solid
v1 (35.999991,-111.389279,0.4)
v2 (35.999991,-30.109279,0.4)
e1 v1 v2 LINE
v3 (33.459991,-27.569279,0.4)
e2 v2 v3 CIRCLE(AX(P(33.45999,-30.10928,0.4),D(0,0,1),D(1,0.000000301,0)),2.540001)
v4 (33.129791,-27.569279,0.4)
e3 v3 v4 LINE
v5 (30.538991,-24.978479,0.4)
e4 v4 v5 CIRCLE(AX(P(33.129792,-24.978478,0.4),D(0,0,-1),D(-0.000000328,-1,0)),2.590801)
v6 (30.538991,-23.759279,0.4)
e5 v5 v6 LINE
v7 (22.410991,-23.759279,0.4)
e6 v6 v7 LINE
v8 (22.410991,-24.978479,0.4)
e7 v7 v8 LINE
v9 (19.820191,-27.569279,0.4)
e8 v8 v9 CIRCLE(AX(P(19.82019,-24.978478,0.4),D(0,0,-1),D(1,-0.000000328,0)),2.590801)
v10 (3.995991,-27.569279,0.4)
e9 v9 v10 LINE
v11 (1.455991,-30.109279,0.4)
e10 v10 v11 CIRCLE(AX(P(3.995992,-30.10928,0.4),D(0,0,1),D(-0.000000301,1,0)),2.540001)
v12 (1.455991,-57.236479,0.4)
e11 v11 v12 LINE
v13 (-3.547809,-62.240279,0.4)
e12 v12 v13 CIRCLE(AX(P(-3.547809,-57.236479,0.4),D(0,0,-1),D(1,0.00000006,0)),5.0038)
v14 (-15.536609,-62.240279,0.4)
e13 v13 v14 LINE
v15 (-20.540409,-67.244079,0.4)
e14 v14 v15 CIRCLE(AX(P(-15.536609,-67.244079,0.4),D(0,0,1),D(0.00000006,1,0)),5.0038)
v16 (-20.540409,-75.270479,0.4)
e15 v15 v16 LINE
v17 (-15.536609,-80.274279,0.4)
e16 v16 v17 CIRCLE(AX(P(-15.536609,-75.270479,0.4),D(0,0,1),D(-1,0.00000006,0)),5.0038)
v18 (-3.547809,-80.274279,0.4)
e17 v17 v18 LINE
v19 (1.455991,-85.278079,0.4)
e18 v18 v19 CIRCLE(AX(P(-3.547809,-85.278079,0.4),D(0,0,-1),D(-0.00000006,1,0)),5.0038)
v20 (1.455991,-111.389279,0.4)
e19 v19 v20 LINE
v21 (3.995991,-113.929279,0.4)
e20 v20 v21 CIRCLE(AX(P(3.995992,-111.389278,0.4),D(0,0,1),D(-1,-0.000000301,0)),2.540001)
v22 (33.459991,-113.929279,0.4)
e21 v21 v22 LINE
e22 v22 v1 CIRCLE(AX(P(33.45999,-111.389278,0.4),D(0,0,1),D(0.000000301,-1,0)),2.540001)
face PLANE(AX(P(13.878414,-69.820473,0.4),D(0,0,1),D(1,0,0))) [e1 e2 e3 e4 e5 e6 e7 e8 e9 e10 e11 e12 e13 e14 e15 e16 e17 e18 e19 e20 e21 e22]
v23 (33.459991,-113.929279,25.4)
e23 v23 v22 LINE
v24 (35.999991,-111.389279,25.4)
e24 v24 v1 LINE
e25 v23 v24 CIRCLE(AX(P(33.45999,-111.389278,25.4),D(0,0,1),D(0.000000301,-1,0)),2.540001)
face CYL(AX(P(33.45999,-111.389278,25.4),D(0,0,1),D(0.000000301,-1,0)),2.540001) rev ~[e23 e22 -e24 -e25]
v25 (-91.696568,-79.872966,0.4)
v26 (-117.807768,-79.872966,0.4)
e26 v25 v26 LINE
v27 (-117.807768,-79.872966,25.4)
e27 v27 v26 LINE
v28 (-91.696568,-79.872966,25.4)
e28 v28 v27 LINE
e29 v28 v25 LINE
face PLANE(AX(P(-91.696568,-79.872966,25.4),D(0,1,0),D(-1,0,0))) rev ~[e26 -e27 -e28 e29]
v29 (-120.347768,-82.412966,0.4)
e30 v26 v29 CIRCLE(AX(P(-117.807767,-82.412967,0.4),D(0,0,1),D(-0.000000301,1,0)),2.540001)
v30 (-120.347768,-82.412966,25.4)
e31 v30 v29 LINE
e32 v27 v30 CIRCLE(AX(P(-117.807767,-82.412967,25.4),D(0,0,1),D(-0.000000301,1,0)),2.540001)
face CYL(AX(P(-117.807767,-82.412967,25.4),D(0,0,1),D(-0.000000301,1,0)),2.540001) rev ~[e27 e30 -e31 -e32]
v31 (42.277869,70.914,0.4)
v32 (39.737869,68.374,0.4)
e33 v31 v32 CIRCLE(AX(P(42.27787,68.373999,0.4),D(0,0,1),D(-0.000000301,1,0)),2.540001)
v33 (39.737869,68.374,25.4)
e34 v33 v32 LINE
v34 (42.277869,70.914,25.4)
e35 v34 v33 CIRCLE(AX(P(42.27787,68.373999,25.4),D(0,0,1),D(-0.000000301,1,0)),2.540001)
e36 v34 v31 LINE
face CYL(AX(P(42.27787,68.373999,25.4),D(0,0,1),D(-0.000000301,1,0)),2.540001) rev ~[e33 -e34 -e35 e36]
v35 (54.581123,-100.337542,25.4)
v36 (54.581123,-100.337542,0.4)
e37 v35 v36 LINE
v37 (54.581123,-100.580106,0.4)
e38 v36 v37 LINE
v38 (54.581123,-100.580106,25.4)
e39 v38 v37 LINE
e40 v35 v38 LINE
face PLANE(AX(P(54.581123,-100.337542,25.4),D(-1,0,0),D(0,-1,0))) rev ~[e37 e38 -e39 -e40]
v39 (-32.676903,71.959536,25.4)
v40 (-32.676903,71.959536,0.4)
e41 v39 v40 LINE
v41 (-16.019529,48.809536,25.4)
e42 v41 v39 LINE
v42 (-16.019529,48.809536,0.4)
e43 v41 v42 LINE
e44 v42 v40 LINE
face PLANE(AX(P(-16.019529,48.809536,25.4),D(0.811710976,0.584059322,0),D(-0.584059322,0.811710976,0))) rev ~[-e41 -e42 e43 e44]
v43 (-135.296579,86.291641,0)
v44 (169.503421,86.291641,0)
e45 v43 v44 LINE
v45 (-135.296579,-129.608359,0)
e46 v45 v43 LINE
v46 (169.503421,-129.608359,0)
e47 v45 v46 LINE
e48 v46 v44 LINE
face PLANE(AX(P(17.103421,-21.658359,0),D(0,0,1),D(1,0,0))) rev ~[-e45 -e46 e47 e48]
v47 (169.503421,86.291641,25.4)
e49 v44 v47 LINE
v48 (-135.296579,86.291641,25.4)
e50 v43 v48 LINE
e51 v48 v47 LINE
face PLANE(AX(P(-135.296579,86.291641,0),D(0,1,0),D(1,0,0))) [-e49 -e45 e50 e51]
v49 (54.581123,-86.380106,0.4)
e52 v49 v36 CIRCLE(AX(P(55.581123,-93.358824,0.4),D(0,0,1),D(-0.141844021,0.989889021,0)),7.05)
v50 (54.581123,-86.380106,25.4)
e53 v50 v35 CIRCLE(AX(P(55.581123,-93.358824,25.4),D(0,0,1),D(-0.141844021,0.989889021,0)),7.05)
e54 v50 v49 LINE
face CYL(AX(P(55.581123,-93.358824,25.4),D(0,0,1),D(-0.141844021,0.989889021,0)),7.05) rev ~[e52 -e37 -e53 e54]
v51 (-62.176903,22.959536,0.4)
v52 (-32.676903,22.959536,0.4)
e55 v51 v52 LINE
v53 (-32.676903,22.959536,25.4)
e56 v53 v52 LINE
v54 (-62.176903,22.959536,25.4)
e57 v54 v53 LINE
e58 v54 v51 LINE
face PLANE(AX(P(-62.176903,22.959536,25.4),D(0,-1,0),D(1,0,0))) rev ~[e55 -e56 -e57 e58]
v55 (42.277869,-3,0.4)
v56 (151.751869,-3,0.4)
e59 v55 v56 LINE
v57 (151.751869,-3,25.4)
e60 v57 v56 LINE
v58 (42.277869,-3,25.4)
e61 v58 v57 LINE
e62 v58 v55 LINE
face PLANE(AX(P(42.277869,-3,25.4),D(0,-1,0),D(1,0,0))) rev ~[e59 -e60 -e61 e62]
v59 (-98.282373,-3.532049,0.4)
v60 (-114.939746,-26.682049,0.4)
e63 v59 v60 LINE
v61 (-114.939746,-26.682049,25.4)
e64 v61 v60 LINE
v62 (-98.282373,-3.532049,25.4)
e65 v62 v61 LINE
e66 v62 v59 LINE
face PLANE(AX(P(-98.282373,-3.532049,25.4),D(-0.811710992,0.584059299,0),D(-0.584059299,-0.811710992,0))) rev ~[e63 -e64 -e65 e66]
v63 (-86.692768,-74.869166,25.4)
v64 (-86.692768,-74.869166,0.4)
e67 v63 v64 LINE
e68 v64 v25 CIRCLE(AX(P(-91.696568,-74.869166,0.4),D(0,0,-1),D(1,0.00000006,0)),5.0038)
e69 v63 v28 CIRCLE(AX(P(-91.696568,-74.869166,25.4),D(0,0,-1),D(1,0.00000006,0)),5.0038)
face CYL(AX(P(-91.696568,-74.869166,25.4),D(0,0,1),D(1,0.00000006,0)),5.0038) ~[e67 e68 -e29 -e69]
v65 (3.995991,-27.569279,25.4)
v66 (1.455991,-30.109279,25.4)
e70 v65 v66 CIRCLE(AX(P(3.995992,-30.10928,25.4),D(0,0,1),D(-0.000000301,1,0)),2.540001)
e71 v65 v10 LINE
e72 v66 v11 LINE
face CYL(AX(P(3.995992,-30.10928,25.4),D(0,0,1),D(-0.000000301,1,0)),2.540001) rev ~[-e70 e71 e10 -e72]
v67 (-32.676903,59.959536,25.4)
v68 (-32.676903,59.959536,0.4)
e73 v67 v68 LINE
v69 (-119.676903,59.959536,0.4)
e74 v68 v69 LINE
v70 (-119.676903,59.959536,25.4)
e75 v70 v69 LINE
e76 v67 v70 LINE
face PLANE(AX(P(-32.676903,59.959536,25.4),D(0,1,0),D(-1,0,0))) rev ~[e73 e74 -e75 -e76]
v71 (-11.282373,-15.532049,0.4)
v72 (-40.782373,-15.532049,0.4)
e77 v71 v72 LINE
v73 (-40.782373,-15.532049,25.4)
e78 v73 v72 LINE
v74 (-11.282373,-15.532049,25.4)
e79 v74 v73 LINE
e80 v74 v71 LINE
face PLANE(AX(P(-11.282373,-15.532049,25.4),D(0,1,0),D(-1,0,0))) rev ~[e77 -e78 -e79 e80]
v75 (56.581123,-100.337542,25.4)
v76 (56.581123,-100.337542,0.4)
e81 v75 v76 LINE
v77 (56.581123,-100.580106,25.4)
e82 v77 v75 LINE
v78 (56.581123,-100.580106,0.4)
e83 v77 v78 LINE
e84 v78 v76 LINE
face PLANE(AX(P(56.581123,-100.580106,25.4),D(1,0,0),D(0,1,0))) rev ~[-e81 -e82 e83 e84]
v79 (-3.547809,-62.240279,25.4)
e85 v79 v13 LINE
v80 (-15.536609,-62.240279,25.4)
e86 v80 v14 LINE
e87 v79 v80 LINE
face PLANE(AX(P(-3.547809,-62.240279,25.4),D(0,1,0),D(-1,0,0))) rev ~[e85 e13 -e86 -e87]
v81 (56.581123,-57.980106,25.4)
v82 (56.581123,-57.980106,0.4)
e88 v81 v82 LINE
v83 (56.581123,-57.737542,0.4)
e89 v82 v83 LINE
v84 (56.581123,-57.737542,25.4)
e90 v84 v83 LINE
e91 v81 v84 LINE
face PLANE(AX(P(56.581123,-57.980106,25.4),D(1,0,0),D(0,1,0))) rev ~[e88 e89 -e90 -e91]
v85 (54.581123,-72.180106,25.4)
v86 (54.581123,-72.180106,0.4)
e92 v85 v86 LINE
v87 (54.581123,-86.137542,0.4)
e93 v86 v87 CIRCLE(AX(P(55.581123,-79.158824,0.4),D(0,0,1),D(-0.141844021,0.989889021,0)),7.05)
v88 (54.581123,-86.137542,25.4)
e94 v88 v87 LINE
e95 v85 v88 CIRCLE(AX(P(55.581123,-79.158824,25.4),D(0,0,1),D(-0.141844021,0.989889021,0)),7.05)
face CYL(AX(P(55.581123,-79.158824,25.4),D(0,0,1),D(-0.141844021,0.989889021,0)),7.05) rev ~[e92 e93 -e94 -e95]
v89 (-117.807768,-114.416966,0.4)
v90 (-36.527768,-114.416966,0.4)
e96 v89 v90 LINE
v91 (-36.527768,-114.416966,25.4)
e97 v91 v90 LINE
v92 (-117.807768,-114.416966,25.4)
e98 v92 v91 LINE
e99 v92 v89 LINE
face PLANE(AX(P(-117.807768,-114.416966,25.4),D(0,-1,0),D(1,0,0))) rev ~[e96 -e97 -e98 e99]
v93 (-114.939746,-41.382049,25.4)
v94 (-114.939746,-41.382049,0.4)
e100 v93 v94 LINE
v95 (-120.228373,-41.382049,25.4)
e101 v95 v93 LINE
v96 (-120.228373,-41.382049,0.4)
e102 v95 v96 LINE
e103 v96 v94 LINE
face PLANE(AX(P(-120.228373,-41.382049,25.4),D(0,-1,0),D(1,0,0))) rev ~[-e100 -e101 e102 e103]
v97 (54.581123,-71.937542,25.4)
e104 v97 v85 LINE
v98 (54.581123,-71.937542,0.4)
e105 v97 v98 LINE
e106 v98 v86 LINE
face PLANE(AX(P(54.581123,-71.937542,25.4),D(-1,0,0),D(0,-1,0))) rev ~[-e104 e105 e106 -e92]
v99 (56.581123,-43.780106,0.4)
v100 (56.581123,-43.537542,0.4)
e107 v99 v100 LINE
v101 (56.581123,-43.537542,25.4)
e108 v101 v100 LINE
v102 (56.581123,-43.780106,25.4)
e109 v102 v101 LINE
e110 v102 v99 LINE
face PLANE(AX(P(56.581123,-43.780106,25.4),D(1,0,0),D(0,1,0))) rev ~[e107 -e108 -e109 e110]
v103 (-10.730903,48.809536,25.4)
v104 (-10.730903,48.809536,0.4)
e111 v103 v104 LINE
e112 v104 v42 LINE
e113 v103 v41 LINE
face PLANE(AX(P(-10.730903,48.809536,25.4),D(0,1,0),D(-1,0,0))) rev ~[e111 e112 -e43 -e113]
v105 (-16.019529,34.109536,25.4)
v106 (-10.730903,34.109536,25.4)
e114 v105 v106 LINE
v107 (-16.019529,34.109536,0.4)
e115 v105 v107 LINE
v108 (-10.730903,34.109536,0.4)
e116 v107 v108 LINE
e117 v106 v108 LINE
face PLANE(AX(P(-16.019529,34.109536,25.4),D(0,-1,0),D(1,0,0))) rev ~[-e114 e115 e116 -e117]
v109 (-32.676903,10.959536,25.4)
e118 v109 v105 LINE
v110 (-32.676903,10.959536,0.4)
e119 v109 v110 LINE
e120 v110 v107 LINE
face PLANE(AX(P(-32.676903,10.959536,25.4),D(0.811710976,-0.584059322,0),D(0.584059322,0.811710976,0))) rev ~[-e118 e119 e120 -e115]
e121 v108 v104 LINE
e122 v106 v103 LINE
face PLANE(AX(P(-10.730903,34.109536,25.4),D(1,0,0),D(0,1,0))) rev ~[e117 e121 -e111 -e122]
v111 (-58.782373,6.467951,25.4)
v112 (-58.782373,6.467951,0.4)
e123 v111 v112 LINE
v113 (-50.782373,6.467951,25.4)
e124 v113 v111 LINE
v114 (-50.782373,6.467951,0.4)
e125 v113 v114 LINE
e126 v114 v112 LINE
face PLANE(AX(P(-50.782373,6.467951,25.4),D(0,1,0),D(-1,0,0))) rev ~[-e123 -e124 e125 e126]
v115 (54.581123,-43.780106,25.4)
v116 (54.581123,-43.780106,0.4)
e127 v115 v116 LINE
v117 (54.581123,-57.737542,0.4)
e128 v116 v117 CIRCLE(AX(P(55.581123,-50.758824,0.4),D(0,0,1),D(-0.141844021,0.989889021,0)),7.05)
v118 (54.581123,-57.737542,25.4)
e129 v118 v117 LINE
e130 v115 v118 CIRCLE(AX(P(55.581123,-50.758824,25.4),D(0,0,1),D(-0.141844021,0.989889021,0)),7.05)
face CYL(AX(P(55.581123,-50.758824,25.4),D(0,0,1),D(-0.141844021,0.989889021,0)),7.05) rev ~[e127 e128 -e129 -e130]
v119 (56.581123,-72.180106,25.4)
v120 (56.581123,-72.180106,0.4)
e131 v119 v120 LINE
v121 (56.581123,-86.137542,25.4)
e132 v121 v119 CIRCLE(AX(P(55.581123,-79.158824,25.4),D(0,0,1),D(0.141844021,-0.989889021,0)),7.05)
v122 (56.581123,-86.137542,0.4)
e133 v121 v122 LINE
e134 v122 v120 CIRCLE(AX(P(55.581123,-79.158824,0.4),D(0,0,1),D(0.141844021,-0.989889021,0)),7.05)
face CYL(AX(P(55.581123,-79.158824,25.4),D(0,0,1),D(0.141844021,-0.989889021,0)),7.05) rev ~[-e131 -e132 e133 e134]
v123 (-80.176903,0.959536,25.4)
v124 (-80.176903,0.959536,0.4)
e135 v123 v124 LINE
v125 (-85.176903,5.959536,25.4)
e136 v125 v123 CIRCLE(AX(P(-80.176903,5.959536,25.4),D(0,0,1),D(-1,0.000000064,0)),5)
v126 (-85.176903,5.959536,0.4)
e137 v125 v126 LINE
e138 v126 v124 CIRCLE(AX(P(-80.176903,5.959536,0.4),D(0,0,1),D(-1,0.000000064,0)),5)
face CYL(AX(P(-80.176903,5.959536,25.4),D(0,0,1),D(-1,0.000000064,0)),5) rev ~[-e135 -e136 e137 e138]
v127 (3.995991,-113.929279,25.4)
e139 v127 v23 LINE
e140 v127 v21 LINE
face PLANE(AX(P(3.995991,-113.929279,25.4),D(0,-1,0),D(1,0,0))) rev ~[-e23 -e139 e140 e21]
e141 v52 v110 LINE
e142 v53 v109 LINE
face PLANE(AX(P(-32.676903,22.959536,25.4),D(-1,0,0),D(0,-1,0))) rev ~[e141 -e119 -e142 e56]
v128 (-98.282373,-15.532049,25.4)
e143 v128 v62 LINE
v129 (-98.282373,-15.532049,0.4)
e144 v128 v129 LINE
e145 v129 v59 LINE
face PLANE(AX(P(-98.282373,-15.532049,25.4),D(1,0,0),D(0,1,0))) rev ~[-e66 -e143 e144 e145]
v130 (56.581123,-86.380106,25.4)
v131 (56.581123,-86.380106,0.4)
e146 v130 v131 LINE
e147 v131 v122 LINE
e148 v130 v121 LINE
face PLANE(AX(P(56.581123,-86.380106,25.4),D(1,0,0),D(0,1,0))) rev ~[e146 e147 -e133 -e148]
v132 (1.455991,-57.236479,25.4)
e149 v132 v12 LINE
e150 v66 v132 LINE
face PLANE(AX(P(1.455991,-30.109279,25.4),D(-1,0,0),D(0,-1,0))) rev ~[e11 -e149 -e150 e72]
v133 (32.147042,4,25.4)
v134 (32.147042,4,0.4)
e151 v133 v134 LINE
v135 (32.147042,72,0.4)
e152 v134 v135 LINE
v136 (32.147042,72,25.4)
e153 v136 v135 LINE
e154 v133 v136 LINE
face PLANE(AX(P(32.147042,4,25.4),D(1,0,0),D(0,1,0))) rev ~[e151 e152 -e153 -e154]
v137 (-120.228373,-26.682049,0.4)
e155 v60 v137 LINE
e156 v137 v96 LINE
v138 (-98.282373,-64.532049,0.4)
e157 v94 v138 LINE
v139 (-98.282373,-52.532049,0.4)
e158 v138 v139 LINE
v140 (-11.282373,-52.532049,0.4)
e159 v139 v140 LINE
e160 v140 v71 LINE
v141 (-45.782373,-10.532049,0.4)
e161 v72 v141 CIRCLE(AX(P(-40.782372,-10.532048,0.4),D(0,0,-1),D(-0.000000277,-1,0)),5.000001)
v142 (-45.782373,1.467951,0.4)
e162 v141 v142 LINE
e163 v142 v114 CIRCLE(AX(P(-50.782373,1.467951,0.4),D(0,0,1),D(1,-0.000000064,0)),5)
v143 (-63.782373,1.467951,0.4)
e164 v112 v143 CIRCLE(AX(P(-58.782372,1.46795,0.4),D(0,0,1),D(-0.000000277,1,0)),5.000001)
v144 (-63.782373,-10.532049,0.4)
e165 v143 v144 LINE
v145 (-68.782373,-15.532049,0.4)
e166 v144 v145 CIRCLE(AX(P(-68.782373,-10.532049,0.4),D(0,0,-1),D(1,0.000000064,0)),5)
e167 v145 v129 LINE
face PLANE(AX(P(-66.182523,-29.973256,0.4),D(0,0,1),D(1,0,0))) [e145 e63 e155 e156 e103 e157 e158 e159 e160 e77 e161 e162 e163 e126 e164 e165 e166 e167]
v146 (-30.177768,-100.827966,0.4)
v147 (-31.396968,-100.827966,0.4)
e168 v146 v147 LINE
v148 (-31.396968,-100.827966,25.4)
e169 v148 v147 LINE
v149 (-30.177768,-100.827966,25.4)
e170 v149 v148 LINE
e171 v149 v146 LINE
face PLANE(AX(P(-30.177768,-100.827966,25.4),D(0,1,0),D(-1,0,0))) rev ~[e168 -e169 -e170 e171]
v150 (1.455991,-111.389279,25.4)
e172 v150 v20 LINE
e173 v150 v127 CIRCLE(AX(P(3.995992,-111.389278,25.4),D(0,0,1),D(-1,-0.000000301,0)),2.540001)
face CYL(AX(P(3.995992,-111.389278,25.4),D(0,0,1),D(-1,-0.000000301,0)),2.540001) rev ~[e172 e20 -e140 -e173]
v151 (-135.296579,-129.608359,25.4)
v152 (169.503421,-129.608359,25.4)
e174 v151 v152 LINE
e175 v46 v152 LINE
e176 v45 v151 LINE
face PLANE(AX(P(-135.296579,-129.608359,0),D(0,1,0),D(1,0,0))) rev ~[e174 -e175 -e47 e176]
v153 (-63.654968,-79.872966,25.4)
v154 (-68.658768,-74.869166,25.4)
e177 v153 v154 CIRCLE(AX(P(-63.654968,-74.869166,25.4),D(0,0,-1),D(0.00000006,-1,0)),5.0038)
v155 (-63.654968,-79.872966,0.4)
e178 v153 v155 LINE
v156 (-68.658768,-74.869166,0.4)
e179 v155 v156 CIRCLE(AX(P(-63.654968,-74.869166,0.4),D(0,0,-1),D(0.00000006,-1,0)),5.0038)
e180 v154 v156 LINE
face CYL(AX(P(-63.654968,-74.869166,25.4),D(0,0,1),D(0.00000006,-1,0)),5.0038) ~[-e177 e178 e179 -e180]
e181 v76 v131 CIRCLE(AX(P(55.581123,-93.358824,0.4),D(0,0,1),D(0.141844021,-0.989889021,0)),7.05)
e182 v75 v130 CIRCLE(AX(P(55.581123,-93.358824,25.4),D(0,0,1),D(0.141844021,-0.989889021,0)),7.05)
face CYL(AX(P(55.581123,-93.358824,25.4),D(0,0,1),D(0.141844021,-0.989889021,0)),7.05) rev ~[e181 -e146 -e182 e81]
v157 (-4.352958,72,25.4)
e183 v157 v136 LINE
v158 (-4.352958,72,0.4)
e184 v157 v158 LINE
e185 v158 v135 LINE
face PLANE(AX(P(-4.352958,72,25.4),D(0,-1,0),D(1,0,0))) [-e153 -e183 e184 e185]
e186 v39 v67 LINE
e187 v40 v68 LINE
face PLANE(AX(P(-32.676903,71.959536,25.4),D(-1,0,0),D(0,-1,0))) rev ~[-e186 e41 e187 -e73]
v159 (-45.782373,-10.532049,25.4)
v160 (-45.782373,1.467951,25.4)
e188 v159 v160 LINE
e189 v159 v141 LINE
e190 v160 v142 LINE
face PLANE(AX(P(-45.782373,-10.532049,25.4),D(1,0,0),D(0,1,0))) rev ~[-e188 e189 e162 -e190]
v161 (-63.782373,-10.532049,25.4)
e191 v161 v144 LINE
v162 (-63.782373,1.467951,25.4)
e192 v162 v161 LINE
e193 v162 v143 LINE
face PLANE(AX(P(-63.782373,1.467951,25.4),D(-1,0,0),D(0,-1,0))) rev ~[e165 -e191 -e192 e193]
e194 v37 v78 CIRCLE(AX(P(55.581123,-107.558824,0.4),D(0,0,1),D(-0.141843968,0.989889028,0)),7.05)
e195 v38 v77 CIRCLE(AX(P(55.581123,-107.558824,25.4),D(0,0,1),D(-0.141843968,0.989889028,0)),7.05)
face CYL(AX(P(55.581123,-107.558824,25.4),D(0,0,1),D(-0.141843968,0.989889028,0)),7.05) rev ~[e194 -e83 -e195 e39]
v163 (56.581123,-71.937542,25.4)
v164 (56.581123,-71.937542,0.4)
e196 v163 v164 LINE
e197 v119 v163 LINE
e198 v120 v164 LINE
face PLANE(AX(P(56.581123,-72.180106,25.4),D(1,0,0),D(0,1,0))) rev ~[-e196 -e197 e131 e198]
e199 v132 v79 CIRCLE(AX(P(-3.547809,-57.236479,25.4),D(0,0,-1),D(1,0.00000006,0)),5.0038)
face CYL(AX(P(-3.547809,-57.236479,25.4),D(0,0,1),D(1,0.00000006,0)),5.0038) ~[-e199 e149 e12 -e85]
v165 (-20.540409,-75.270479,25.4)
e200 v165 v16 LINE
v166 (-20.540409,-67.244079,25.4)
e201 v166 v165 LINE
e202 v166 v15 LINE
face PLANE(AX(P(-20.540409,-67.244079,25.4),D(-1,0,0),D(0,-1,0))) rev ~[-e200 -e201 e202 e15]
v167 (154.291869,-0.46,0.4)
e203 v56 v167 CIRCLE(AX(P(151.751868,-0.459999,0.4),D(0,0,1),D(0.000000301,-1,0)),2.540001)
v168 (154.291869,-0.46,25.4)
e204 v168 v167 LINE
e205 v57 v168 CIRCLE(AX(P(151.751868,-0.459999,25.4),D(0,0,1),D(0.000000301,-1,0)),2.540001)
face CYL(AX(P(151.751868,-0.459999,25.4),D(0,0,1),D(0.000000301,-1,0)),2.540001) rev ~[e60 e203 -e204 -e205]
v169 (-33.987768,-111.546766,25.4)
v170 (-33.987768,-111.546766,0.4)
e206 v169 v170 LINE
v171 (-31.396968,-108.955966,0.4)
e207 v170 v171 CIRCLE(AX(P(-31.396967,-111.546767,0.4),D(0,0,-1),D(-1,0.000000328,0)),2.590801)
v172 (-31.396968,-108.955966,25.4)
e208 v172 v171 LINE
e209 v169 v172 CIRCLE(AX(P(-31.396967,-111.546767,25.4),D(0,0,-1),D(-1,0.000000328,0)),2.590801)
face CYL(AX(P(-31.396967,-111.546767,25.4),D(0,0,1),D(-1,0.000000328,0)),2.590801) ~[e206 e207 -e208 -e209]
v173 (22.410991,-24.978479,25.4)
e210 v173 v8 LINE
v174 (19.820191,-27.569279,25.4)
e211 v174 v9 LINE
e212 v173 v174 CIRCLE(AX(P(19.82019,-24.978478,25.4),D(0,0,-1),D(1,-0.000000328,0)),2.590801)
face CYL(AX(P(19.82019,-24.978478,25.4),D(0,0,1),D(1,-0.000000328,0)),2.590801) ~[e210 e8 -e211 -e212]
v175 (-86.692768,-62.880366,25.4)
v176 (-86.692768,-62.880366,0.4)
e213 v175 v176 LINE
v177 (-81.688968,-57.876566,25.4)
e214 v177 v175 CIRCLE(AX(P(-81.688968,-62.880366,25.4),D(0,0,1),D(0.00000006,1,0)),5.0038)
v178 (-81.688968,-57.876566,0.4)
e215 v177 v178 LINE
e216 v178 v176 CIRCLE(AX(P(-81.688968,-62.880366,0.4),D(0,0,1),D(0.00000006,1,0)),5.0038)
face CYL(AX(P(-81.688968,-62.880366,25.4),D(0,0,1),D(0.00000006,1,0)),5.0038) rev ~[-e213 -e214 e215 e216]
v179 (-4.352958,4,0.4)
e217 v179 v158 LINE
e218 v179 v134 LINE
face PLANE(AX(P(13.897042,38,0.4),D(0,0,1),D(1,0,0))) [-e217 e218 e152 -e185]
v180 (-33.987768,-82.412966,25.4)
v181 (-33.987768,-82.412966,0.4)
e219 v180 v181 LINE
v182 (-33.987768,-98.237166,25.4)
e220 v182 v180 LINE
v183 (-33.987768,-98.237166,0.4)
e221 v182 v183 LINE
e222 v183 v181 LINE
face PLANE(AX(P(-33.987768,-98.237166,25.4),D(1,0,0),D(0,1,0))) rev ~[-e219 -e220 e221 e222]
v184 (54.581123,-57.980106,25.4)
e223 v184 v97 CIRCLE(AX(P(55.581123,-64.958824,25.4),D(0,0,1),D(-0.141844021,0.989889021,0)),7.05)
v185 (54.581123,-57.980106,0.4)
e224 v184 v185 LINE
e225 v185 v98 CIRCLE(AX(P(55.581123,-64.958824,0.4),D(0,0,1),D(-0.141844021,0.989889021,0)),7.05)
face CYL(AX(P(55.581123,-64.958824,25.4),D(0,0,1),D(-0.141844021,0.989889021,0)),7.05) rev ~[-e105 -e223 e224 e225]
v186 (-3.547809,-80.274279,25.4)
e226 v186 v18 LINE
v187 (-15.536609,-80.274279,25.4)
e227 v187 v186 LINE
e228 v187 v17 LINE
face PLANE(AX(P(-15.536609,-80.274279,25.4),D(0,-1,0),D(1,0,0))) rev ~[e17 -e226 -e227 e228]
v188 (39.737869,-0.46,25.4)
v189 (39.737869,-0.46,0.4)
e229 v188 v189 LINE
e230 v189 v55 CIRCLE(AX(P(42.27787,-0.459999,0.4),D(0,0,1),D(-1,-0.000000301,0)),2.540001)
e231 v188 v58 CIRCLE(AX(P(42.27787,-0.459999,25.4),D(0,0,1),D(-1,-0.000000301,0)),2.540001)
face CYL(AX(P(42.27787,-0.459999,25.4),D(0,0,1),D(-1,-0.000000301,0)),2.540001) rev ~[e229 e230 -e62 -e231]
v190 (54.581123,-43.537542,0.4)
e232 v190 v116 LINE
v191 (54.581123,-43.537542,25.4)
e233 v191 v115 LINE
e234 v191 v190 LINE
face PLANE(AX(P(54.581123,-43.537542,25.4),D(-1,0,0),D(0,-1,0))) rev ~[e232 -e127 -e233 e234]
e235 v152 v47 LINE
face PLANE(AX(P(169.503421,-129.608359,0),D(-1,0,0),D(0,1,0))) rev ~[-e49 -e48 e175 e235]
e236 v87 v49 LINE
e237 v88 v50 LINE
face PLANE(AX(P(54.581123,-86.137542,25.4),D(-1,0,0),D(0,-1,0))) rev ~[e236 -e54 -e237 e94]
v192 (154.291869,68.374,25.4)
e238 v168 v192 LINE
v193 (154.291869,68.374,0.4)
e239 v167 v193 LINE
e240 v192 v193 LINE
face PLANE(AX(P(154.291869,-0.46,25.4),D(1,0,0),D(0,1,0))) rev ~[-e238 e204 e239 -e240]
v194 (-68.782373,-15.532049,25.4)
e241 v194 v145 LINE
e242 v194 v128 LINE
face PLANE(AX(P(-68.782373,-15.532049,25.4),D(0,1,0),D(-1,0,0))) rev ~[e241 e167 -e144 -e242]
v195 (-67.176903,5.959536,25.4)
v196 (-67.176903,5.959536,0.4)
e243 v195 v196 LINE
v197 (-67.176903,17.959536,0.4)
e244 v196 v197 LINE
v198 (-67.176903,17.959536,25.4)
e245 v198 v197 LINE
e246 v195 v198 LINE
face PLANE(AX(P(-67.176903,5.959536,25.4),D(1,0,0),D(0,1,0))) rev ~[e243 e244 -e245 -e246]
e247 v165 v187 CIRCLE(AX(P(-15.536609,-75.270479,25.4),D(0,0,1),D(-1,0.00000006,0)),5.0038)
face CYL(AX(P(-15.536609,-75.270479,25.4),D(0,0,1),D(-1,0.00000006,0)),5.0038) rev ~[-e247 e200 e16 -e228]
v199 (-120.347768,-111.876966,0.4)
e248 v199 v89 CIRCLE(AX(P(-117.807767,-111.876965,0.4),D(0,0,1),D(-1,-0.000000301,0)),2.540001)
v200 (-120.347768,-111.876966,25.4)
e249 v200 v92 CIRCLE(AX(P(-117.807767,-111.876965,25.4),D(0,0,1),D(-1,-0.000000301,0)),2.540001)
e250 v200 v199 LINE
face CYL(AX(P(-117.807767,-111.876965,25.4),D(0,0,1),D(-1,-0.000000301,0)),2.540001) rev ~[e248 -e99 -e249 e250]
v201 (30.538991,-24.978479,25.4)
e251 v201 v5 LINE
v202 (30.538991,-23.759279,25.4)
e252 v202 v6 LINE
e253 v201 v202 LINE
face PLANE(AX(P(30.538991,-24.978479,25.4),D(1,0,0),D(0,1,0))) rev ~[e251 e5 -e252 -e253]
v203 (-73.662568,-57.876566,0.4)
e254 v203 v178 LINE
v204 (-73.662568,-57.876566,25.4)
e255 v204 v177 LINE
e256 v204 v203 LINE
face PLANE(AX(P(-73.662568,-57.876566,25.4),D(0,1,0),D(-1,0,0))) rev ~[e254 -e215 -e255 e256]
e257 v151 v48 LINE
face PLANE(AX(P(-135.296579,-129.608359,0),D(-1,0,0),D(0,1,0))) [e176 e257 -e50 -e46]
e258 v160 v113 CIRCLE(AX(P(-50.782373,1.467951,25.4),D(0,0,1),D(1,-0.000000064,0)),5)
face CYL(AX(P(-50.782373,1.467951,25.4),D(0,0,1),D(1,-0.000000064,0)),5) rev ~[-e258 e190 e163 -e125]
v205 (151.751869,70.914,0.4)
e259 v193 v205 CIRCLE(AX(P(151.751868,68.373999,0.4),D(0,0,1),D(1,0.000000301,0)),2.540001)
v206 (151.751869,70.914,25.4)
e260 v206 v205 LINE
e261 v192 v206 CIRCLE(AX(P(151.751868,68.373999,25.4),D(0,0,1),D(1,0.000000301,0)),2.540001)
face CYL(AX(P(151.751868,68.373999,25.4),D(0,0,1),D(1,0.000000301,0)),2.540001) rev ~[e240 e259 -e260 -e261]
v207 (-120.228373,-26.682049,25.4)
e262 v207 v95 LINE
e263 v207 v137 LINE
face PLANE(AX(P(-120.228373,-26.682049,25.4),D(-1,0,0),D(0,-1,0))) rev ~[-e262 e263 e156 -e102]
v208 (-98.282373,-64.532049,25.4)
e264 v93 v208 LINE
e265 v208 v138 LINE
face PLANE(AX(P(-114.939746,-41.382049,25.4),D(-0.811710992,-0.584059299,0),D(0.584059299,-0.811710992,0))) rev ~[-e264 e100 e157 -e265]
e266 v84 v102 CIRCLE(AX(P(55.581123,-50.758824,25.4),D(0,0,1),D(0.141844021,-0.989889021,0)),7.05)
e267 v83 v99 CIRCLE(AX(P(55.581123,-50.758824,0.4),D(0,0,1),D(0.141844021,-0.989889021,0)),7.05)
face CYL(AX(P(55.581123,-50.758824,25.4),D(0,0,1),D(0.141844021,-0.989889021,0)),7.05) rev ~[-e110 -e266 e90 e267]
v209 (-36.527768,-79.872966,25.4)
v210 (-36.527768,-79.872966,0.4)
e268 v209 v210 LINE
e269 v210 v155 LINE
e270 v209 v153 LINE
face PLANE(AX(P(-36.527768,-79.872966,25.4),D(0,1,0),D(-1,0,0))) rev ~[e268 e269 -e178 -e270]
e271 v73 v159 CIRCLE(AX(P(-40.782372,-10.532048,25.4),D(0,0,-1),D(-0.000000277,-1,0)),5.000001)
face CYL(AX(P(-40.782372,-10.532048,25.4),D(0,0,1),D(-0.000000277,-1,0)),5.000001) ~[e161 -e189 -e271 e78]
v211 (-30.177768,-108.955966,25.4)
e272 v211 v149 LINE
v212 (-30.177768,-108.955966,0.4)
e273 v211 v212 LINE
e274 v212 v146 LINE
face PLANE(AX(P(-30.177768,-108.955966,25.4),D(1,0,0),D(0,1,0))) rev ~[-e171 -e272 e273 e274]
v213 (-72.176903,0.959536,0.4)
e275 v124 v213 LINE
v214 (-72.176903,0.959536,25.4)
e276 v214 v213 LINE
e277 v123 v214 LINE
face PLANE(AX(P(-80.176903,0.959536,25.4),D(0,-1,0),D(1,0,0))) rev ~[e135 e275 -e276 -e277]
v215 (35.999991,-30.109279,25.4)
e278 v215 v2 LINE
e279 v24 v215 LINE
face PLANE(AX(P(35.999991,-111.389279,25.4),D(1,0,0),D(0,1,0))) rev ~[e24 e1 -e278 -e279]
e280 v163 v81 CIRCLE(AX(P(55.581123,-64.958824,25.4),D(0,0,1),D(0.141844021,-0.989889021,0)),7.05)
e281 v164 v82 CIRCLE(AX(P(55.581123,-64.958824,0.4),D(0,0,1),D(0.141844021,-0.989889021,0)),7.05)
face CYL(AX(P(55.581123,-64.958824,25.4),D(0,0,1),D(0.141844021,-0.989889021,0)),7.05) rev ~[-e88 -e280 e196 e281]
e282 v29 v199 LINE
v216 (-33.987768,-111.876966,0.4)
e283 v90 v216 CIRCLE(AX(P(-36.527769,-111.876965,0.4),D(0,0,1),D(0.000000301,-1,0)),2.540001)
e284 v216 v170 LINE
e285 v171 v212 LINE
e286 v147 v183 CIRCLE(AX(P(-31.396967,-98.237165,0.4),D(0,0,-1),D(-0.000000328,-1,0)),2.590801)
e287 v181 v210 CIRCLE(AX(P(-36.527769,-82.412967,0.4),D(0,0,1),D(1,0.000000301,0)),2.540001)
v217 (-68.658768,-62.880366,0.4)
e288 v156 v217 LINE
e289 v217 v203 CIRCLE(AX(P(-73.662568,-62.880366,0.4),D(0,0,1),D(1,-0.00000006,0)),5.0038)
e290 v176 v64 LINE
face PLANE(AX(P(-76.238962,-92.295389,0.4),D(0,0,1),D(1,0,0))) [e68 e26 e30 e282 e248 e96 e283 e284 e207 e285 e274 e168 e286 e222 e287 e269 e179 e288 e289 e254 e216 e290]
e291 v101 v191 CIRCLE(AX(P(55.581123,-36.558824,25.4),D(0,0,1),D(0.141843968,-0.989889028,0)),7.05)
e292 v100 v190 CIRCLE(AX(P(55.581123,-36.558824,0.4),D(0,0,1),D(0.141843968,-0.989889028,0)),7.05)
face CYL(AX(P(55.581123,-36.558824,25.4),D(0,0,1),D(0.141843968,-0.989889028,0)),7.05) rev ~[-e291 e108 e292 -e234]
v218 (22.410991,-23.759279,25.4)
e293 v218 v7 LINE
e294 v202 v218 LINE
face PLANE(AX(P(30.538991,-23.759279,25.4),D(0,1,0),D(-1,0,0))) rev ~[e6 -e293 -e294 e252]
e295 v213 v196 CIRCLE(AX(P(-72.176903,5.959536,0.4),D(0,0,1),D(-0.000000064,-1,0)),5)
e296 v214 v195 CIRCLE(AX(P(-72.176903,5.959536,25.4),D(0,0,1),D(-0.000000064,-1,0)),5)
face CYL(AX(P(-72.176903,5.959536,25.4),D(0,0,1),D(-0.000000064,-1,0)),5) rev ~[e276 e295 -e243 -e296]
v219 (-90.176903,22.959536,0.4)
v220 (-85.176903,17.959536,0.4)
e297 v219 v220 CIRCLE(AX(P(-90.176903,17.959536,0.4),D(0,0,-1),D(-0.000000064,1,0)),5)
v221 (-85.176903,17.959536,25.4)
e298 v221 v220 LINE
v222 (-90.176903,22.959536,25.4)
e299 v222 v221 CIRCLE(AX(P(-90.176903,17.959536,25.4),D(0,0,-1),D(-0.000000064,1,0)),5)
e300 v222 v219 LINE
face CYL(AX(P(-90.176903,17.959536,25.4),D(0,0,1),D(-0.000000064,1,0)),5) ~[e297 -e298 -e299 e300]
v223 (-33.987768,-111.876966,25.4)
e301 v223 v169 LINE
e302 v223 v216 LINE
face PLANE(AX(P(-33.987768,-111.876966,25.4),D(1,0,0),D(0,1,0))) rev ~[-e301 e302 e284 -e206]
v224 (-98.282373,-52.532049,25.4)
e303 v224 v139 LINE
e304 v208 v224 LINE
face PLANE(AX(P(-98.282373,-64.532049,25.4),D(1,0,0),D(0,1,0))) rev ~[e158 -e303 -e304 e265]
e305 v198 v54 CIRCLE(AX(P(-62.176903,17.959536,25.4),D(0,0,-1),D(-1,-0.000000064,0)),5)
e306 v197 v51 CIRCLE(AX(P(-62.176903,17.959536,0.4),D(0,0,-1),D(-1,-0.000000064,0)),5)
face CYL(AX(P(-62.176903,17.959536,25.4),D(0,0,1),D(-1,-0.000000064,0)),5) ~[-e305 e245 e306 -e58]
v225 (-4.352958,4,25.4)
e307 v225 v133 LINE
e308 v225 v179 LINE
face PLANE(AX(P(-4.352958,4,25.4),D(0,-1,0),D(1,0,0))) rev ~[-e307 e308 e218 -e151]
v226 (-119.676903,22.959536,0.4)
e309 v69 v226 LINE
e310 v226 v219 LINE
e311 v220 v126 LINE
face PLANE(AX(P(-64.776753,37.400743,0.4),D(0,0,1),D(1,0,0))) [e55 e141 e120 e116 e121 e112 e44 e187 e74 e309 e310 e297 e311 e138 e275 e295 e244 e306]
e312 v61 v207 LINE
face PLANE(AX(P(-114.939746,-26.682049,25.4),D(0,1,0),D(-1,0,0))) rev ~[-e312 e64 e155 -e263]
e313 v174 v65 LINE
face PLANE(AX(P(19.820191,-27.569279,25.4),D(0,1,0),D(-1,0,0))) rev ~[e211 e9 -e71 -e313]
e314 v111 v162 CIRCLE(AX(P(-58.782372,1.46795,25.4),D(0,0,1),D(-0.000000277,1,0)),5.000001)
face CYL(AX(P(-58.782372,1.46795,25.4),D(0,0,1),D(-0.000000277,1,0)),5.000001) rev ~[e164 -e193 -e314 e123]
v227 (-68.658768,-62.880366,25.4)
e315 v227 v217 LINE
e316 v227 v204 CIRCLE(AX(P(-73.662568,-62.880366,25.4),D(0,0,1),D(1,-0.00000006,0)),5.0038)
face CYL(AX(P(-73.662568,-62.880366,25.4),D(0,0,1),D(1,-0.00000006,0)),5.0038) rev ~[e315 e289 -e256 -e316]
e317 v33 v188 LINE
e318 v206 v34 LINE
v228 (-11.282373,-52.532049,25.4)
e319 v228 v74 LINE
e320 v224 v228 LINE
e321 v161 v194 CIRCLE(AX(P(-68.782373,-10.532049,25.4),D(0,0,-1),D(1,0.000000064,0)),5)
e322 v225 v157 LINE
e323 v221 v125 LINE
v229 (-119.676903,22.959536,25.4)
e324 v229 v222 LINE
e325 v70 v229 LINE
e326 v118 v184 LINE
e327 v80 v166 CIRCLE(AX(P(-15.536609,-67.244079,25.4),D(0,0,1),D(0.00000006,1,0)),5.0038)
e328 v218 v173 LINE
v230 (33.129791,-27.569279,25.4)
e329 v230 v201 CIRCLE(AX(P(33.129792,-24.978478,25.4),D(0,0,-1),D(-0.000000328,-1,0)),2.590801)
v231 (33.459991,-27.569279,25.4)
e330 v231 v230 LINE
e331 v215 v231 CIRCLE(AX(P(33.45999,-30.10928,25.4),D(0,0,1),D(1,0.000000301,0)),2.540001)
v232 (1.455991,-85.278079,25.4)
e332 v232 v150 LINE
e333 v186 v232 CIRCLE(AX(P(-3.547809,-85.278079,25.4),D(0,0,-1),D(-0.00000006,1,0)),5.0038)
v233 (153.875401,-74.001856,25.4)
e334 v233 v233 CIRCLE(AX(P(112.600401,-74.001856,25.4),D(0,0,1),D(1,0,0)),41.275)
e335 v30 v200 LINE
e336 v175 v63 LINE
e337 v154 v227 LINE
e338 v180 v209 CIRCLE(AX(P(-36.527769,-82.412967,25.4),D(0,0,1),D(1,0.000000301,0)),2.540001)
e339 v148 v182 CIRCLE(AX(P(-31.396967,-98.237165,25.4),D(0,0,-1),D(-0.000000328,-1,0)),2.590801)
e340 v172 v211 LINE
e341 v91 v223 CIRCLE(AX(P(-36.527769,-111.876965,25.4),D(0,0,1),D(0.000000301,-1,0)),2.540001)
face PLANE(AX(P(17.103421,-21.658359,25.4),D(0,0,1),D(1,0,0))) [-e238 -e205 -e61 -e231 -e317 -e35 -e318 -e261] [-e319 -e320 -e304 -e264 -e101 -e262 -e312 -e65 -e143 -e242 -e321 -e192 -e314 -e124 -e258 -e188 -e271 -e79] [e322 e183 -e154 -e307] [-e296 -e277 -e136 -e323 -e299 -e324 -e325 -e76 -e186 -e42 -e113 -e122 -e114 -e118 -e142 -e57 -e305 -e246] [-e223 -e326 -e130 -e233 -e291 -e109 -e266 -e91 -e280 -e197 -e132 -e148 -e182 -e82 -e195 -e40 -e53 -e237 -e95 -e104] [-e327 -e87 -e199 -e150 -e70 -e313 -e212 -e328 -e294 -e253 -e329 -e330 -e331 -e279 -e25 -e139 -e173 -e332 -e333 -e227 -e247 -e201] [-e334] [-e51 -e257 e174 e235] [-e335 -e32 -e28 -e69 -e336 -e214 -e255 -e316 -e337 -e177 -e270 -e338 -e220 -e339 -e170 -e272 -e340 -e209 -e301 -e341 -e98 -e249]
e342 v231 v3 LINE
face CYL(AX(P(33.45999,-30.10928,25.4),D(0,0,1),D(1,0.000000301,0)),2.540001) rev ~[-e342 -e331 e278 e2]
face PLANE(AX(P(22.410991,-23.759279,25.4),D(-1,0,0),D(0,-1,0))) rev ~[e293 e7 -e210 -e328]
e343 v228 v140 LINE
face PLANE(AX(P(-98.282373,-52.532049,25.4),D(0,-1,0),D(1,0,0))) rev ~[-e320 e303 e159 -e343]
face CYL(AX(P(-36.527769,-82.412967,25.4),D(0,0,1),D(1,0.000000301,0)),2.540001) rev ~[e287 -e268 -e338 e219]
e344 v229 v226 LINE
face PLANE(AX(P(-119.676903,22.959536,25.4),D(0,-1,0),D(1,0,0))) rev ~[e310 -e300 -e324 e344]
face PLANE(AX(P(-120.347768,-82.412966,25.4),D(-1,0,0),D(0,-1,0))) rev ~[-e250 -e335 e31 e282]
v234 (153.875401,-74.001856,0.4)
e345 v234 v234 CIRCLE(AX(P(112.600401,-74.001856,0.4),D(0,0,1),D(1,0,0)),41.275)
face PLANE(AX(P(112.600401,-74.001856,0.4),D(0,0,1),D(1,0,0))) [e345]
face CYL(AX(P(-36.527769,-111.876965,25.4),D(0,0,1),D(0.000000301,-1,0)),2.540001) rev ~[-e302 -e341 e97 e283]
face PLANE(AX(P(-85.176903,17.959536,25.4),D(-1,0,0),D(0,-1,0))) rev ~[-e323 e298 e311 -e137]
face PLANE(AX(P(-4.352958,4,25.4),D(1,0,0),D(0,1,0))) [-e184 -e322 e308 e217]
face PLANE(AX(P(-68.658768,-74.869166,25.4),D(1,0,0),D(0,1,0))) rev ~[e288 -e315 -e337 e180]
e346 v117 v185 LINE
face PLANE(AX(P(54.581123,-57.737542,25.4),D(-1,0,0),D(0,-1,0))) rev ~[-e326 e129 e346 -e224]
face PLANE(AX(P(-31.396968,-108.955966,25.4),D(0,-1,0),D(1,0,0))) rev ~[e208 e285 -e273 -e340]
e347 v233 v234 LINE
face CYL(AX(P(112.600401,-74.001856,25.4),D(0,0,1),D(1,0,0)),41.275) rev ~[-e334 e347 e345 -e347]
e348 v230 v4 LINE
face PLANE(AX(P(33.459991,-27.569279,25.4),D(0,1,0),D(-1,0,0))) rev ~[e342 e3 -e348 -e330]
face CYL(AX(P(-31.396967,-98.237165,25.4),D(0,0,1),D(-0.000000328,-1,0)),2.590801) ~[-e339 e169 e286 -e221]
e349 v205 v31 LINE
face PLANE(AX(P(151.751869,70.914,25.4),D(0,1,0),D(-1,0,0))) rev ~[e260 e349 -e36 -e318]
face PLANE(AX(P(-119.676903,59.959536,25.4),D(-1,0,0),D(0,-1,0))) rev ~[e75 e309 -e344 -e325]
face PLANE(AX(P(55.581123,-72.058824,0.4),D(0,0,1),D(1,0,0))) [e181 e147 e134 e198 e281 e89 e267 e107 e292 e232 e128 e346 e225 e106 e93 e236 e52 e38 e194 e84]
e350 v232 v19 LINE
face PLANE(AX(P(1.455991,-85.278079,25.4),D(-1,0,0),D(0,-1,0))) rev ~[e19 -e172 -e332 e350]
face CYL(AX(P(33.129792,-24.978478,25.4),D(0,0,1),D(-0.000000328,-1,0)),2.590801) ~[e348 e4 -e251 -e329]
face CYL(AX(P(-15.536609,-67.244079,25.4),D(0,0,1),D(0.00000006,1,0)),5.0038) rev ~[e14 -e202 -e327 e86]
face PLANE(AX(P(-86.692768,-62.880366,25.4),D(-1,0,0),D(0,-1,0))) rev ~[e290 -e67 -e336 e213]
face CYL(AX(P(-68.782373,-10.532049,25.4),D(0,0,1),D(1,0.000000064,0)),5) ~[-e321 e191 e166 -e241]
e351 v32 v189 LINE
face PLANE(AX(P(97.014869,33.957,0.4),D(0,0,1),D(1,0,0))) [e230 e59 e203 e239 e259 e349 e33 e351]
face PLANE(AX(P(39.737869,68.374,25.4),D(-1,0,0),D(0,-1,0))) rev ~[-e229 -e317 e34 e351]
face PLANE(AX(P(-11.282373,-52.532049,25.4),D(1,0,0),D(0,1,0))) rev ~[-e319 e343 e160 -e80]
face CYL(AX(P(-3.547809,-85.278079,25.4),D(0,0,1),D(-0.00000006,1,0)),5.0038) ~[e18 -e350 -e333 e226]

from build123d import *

# Parameters (mm, degrees)
F0_W      = 304.8
F0_H      = 215.9
F1_DEPTH  = 25.4
F5_R      = 41.275
F8_W      = 36.5
F8_H      = 68
F10_DEPTH = 25


with BuildPart() as f1:
    # F0 (on Top) → F1 (new body)
    with BuildSketch(Plane.XY):
        with Locations((17.103421, -21.658359)):
            Rectangle(F0_W, F0_H)
    extrude(amount=F1_DEPTH)

    # F0 (on Top) + F2 (on face) + F3 (on face) + F4 (on face) + F5 (on face) + F6 (on face) + F7 (on face) + F8 (on face) + F9 (on face) → F10 (cut)
    with BuildSketch(Plane.XY):
        with Locations((17.103421, -21.658359)):
            Rectangle(F0_W, F0_H)
    with BuildSketch(Plane.XY.offset(25.4)):
        with BuildLine():
            Line((1.455991, -85.278079), (1.455991, -111.389279))
            ThreePointArc((1.455991, -111.389279), (2.19994, -113.18533), (3.995991, -113.929279))
            Line((3.995991, -113.929279), (33.459991, -113.929279))
            ThreePointArc((33.459991, -113.929279), (35.256042, -113.18533), (35.999991, -111.389279))
            Line((35.999991, -111.389279), (35.999991, -30.109279))
            ThreePointArc((35.999991, -30.109279), (35.256042, -28.313228), (33.459991, -27.569279))
            Line((33.459991, -27.569279), (33.129791, -27.569279))
            ThreePointArc((33.129791, -27.569279), (31.297819, -26.810451), (30.538991, -24.978479))
            Line((30.538991, -24.978479), (30.538991, -23.759279))
            Line((30.538991, -23.759279), (22.410991, -23.759279))
            Line((22.410991, -23.759279), (22.410991, -24.978479))
            ThreePointArc((22.410991, -24.978479), (21.652163, -26.810451), (19.820191, -27.569279))
            Line((19.820191, -27.569279), (3.995991, -27.569279))
            ThreePointArc((3.995991, -27.569279), (2.19994, -28.313228), (1.455991, -30.109279))
            Line((1.455991, -30.109279), (1.455991, -57.236479))
            ThreePointArc((1.455991, -57.236479), (-0.009588, -60.7747), (-3.547809, -62.240279))
            Line((-3.547809, -62.240279), (-15.536609, -62.240279))
            ThreePointArc((-15.536609, -62.240279), (-19.07483, -63.705858), (-20.540409, -67.244079))
            Line((-20.540409, -67.244079), (-20.540409, -75.270479))
            ThreePointArc((-20.540409, -75.270479), (-19.07483, -78.8087), (-15.536609, -80.274279))
            Line((-15.536609, -80.274279), (-3.547809, -80.274279))
            ThreePointArc((-3.547809, -80.274279), (-0.009588, -81.739858), (1.455991, -85.278079))
        make_face()
    with BuildSketch(Plane.XY.offset(25.4)):
        with BuildLine():
            Line((-98.282373, -52.532049), (-11.282373, -52.532049))
            Line((-11.282373, -52.532049), (-11.282373, -15.532049))
            Line((-11.282373, -15.532049), (-40.782373, -15.532049))
            ThreePointArc((-40.782373, -15.532049), (-44.317906, -14.067583), (-45.782373, -10.532049))
            Line((-45.782373, -10.532049), (-45.782373, 1.467951))
            ThreePointArc((-45.782373, 1.467951), (-47.246839, 5.003485), (-50.782373, 6.467951))
            Line((-50.782373, 6.467951), (-58.782373, 6.467951))
            ThreePointArc((-58.782373, 6.467951), (-62.317906, 5.003485), (-63.782373, 1.467951))
            Line((-63.782373, 1.467951), (-63.782373, -10.532049))
            ThreePointArc((-63.782373, -10.532049), (-65.246839, -14.067583), (-68.782373, -15.532049))
            Line((-68.782373, -15.532049), (-98.282373, -15.532049))
            Line((-98.282373, -15.532049), (-98.282373, -3.532049))
            Line((-98.282373, -3.532049), (-114.939746, -26.682049))
            Line((-114.939746, -26.682049), (-120.228373, -26.682049))
            Line((-120.228373, -26.682049), (-120.228373, -34.032049))
            Line((-120.228373, -34.032049), (-120.228373, -41.382049))
            Line((-120.228373, -41.382049), (-114.939746, -41.382049))
            Line((-114.939746, -41.382049), (-98.282373, -64.532049))
            Line((-98.282373, -64.532049), (-98.282373, -52.532049))
        make_face()
    with BuildSketch(Plane.XY.offset(25.4)):
        with BuildLine():
            Line((151.751869, 70.914), (42.277869, 70.914))
            ThreePointArc((42.277869, 70.914), (40.481818, 70.170051), (39.737869, 68.374))
            Line((39.737869, 68.374), (39.737869, -0.46))
            ThreePointArc((39.737869, -0.46), (40.481818, -2.256051), (42.277869, -3))
            Line((42.277869, -3), (151.751869, -3))
            ThreePointArc((151.751869, -3), (153.54792, -2.256051), (154.291869, -0.46))
            Line((154.291869, -0.46), (154.291869, 68.374))
            ThreePointArc((154.291869, 68.374), (153.54792, 70.170051), (151.751869, 70.914))
        make_face()
    with BuildSketch(Plane.XY.offset(25.4)):
        with Locations((112.600401, -74.001856)):
            Circle(F5_R)
    with BuildSketch(Plane.XY.offset(25.4)):
        with BuildLine():
            Line((-91.696568, -79.872966), (-117.807768, -79.872966))
            ThreePointArc((-117.807768, -79.872966), (-119.603819, -80.616915), (-120.347768, -82.412966))
            Line((-120.347768, -82.412966), (-120.347768, -111.876966))
            ThreePointArc((-120.347768, -111.876966), (-119.603819, -113.673017), (-117.807768, -114.416966))
            Line((-117.807768, -114.416966), (-36.527768, -114.416966))
            ThreePointArc((-36.527768, -114.416966), (-34.731717, -113.673017), (-33.987768, -111.876966))
            Line((-33.987768, -111.876966), (-33.987768, -111.546766))
            ThreePointArc((-33.987768, -111.546766), (-33.22894, -109.714794), (-31.396968, -108.955966))
            Line((-31.396968, -108.955966), (-30.177768, -108.955966))
            Line((-30.177768, -108.955966), (-30.177768, -100.827966))
            Line((-30.177768, -100.827966), (-31.396968, -100.827966))
            ThreePointArc((-31.396968, -100.827966), (-33.22894, -100.069138), (-33.987768, -98.237166))
            Line((-33.987768, -98.237166), (-33.987768, -82.412966))
            ThreePointArc((-33.987768, -82.412966), (-34.731717, -80.616915), (-36.527768, -79.872966))
            Line((-36.527768, -79.872966), (-63.654968, -79.872966))
            ThreePointArc((-63.654968, -79.872966), (-67.193189, -78.407387), (-68.658768, -74.869166))
            Line((-68.658768, -74.869166), (-68.658768, -62.880366))
            ThreePointArc((-68.658768, -62.880366), (-70.124347, -59.342145), (-73.662568, -57.876566))
            Line((-73.662568, -57.876566), (-81.688968, -57.876566))
            ThreePointArc((-81.688968, -57.876566), (-85.227189, -59.342145), (-86.692768, -62.880366))
            Line((-86.692768, -62.880366), (-86.692768, -74.869166))
            ThreePointArc((-86.692768, -74.869166), (-88.158347, -78.407387), (-91.696568, -79.872966))
        make_face()
    with BuildSketch(Plane.XY.offset(25.4)):
        with BuildLine():
            Line((56.581123, -43.780106), (56.581123, -43.537542))
            ThreePointArc((56.581123, -43.537542), (55.581123, -29.508824), (54.581123, -43.537542))
            Line((54.581123, -43.537542), (54.581123, -43.780106))
            ThreePointArc((54.581123, -43.780106), (48.531123, -50.758824), (54.581123, -57.737542))
            Line((54.581123, -57.737542), (54.581123, -57.980106))
            ThreePointArc((54.581123, -57.980106), (48.531123, -64.958824), (54.581123, -71.937542))
            Line((54.581123, -71.937542), (54.581123, -72.180106))
            ThreePointArc((54.581123, -72.180106), (48.531123, -79.158824), (54.581123, -86.137542))
            Line((54.581123, -86.137542), (54.581123, -86.380106))
            ThreePointArc((54.581123, -86.380106), (48.531123, -93.358824), (54.581123, -100.337542))
            Line((54.581123, -100.337542), (54.581123, -100.580106))
            ThreePointArc((54.581123, -100.580106), (55.581123, -114.608824), (56.581123, -100.580106))
            Line((56.581123, -100.580106), (56.581123, -100.337542))
            ThreePointArc((56.581123, -100.337542), (62.631123, -93.358824), (56.581123, -86.380106))
            Line((56.581123, -86.380106), (56.581123, -86.137542))
            ThreePointArc((56.581123, -86.137542), (62.631123, -79.158824), (56.581123, -72.180106))
            Line((56.581123, -72.180106), (56.581123, -71.937542))
            ThreePointArc((56.581123, -71.937542), (62.631123, -64.958824), (56.581123, -57.980106))
            Line((56.581123, -57.980106), (56.581123, -57.737542))
            ThreePointArc((56.581123, -57.737542), (62.631123, -50.758824), (56.581123, -43.780106))
        make_face()
    with BuildSketch(Plane.XY.offset(25.4)):
        with Locations((13.897042, 38)):
            Rectangle(F8_W, F8_H)
    with BuildSketch(Plane.XY.offset(25.4)):
        with BuildLine():
            Line((-32.676903, 59.959536), (-119.676903, 59.959536))
            Line((-119.676903, 59.959536), (-119.676903, 22.959536))
            Line((-119.676903, 22.959536), (-90.176903, 22.959536))
            ThreePointArc((-90.176903, 22.959536), (-86.641369, 21.49507), (-85.176903, 17.959536))
            Line((-85.176903, 17.959536), (-85.176903, 5.959536))
            ThreePointArc((-85.176903, 5.959536), (-83.712437, 2.424002), (-80.176903, 0.959536))
            Line((-80.176903, 0.959536), (-72.176903, 0.959536))
            ThreePointArc((-72.176903, 0.959536), (-68.641369, 2.424002), (-67.176903, 5.959536))
            Line((-67.176903, 5.959536), (-67.176903, 17.959536))
            ThreePointArc((-67.176903, 17.959536), (-65.712437, 21.49507), (-62.176903, 22.959536))
            Line((-62.176903, 22.959536), (-32.676903, 22.959536))
            Line((-32.676903, 22.959536), (-32.676903, 10.959536))
            Line((-32.676903, 10.959536), (-16.019529, 34.109536))
            Line((-16.019529, 34.109536), (-10.730903, 34.109536))
            Line((-10.730903, 34.109536), (-10.730903, 41.459536))
            Line((-10.730903, 41.459536), (-10.730903, 48.809536))
            Line((-10.730903, 48.809536), (-16.019529, 48.809536))
            Line((-16.019529, 48.809536), (-32.676903, 71.959536))
            Line((-32.676903, 71.959536), (-32.676903, 59.959536))
        make_face()
    extrude(amount=-F10_DEPTH, mode=Mode.SUBTRACT)


solid = f1.part
